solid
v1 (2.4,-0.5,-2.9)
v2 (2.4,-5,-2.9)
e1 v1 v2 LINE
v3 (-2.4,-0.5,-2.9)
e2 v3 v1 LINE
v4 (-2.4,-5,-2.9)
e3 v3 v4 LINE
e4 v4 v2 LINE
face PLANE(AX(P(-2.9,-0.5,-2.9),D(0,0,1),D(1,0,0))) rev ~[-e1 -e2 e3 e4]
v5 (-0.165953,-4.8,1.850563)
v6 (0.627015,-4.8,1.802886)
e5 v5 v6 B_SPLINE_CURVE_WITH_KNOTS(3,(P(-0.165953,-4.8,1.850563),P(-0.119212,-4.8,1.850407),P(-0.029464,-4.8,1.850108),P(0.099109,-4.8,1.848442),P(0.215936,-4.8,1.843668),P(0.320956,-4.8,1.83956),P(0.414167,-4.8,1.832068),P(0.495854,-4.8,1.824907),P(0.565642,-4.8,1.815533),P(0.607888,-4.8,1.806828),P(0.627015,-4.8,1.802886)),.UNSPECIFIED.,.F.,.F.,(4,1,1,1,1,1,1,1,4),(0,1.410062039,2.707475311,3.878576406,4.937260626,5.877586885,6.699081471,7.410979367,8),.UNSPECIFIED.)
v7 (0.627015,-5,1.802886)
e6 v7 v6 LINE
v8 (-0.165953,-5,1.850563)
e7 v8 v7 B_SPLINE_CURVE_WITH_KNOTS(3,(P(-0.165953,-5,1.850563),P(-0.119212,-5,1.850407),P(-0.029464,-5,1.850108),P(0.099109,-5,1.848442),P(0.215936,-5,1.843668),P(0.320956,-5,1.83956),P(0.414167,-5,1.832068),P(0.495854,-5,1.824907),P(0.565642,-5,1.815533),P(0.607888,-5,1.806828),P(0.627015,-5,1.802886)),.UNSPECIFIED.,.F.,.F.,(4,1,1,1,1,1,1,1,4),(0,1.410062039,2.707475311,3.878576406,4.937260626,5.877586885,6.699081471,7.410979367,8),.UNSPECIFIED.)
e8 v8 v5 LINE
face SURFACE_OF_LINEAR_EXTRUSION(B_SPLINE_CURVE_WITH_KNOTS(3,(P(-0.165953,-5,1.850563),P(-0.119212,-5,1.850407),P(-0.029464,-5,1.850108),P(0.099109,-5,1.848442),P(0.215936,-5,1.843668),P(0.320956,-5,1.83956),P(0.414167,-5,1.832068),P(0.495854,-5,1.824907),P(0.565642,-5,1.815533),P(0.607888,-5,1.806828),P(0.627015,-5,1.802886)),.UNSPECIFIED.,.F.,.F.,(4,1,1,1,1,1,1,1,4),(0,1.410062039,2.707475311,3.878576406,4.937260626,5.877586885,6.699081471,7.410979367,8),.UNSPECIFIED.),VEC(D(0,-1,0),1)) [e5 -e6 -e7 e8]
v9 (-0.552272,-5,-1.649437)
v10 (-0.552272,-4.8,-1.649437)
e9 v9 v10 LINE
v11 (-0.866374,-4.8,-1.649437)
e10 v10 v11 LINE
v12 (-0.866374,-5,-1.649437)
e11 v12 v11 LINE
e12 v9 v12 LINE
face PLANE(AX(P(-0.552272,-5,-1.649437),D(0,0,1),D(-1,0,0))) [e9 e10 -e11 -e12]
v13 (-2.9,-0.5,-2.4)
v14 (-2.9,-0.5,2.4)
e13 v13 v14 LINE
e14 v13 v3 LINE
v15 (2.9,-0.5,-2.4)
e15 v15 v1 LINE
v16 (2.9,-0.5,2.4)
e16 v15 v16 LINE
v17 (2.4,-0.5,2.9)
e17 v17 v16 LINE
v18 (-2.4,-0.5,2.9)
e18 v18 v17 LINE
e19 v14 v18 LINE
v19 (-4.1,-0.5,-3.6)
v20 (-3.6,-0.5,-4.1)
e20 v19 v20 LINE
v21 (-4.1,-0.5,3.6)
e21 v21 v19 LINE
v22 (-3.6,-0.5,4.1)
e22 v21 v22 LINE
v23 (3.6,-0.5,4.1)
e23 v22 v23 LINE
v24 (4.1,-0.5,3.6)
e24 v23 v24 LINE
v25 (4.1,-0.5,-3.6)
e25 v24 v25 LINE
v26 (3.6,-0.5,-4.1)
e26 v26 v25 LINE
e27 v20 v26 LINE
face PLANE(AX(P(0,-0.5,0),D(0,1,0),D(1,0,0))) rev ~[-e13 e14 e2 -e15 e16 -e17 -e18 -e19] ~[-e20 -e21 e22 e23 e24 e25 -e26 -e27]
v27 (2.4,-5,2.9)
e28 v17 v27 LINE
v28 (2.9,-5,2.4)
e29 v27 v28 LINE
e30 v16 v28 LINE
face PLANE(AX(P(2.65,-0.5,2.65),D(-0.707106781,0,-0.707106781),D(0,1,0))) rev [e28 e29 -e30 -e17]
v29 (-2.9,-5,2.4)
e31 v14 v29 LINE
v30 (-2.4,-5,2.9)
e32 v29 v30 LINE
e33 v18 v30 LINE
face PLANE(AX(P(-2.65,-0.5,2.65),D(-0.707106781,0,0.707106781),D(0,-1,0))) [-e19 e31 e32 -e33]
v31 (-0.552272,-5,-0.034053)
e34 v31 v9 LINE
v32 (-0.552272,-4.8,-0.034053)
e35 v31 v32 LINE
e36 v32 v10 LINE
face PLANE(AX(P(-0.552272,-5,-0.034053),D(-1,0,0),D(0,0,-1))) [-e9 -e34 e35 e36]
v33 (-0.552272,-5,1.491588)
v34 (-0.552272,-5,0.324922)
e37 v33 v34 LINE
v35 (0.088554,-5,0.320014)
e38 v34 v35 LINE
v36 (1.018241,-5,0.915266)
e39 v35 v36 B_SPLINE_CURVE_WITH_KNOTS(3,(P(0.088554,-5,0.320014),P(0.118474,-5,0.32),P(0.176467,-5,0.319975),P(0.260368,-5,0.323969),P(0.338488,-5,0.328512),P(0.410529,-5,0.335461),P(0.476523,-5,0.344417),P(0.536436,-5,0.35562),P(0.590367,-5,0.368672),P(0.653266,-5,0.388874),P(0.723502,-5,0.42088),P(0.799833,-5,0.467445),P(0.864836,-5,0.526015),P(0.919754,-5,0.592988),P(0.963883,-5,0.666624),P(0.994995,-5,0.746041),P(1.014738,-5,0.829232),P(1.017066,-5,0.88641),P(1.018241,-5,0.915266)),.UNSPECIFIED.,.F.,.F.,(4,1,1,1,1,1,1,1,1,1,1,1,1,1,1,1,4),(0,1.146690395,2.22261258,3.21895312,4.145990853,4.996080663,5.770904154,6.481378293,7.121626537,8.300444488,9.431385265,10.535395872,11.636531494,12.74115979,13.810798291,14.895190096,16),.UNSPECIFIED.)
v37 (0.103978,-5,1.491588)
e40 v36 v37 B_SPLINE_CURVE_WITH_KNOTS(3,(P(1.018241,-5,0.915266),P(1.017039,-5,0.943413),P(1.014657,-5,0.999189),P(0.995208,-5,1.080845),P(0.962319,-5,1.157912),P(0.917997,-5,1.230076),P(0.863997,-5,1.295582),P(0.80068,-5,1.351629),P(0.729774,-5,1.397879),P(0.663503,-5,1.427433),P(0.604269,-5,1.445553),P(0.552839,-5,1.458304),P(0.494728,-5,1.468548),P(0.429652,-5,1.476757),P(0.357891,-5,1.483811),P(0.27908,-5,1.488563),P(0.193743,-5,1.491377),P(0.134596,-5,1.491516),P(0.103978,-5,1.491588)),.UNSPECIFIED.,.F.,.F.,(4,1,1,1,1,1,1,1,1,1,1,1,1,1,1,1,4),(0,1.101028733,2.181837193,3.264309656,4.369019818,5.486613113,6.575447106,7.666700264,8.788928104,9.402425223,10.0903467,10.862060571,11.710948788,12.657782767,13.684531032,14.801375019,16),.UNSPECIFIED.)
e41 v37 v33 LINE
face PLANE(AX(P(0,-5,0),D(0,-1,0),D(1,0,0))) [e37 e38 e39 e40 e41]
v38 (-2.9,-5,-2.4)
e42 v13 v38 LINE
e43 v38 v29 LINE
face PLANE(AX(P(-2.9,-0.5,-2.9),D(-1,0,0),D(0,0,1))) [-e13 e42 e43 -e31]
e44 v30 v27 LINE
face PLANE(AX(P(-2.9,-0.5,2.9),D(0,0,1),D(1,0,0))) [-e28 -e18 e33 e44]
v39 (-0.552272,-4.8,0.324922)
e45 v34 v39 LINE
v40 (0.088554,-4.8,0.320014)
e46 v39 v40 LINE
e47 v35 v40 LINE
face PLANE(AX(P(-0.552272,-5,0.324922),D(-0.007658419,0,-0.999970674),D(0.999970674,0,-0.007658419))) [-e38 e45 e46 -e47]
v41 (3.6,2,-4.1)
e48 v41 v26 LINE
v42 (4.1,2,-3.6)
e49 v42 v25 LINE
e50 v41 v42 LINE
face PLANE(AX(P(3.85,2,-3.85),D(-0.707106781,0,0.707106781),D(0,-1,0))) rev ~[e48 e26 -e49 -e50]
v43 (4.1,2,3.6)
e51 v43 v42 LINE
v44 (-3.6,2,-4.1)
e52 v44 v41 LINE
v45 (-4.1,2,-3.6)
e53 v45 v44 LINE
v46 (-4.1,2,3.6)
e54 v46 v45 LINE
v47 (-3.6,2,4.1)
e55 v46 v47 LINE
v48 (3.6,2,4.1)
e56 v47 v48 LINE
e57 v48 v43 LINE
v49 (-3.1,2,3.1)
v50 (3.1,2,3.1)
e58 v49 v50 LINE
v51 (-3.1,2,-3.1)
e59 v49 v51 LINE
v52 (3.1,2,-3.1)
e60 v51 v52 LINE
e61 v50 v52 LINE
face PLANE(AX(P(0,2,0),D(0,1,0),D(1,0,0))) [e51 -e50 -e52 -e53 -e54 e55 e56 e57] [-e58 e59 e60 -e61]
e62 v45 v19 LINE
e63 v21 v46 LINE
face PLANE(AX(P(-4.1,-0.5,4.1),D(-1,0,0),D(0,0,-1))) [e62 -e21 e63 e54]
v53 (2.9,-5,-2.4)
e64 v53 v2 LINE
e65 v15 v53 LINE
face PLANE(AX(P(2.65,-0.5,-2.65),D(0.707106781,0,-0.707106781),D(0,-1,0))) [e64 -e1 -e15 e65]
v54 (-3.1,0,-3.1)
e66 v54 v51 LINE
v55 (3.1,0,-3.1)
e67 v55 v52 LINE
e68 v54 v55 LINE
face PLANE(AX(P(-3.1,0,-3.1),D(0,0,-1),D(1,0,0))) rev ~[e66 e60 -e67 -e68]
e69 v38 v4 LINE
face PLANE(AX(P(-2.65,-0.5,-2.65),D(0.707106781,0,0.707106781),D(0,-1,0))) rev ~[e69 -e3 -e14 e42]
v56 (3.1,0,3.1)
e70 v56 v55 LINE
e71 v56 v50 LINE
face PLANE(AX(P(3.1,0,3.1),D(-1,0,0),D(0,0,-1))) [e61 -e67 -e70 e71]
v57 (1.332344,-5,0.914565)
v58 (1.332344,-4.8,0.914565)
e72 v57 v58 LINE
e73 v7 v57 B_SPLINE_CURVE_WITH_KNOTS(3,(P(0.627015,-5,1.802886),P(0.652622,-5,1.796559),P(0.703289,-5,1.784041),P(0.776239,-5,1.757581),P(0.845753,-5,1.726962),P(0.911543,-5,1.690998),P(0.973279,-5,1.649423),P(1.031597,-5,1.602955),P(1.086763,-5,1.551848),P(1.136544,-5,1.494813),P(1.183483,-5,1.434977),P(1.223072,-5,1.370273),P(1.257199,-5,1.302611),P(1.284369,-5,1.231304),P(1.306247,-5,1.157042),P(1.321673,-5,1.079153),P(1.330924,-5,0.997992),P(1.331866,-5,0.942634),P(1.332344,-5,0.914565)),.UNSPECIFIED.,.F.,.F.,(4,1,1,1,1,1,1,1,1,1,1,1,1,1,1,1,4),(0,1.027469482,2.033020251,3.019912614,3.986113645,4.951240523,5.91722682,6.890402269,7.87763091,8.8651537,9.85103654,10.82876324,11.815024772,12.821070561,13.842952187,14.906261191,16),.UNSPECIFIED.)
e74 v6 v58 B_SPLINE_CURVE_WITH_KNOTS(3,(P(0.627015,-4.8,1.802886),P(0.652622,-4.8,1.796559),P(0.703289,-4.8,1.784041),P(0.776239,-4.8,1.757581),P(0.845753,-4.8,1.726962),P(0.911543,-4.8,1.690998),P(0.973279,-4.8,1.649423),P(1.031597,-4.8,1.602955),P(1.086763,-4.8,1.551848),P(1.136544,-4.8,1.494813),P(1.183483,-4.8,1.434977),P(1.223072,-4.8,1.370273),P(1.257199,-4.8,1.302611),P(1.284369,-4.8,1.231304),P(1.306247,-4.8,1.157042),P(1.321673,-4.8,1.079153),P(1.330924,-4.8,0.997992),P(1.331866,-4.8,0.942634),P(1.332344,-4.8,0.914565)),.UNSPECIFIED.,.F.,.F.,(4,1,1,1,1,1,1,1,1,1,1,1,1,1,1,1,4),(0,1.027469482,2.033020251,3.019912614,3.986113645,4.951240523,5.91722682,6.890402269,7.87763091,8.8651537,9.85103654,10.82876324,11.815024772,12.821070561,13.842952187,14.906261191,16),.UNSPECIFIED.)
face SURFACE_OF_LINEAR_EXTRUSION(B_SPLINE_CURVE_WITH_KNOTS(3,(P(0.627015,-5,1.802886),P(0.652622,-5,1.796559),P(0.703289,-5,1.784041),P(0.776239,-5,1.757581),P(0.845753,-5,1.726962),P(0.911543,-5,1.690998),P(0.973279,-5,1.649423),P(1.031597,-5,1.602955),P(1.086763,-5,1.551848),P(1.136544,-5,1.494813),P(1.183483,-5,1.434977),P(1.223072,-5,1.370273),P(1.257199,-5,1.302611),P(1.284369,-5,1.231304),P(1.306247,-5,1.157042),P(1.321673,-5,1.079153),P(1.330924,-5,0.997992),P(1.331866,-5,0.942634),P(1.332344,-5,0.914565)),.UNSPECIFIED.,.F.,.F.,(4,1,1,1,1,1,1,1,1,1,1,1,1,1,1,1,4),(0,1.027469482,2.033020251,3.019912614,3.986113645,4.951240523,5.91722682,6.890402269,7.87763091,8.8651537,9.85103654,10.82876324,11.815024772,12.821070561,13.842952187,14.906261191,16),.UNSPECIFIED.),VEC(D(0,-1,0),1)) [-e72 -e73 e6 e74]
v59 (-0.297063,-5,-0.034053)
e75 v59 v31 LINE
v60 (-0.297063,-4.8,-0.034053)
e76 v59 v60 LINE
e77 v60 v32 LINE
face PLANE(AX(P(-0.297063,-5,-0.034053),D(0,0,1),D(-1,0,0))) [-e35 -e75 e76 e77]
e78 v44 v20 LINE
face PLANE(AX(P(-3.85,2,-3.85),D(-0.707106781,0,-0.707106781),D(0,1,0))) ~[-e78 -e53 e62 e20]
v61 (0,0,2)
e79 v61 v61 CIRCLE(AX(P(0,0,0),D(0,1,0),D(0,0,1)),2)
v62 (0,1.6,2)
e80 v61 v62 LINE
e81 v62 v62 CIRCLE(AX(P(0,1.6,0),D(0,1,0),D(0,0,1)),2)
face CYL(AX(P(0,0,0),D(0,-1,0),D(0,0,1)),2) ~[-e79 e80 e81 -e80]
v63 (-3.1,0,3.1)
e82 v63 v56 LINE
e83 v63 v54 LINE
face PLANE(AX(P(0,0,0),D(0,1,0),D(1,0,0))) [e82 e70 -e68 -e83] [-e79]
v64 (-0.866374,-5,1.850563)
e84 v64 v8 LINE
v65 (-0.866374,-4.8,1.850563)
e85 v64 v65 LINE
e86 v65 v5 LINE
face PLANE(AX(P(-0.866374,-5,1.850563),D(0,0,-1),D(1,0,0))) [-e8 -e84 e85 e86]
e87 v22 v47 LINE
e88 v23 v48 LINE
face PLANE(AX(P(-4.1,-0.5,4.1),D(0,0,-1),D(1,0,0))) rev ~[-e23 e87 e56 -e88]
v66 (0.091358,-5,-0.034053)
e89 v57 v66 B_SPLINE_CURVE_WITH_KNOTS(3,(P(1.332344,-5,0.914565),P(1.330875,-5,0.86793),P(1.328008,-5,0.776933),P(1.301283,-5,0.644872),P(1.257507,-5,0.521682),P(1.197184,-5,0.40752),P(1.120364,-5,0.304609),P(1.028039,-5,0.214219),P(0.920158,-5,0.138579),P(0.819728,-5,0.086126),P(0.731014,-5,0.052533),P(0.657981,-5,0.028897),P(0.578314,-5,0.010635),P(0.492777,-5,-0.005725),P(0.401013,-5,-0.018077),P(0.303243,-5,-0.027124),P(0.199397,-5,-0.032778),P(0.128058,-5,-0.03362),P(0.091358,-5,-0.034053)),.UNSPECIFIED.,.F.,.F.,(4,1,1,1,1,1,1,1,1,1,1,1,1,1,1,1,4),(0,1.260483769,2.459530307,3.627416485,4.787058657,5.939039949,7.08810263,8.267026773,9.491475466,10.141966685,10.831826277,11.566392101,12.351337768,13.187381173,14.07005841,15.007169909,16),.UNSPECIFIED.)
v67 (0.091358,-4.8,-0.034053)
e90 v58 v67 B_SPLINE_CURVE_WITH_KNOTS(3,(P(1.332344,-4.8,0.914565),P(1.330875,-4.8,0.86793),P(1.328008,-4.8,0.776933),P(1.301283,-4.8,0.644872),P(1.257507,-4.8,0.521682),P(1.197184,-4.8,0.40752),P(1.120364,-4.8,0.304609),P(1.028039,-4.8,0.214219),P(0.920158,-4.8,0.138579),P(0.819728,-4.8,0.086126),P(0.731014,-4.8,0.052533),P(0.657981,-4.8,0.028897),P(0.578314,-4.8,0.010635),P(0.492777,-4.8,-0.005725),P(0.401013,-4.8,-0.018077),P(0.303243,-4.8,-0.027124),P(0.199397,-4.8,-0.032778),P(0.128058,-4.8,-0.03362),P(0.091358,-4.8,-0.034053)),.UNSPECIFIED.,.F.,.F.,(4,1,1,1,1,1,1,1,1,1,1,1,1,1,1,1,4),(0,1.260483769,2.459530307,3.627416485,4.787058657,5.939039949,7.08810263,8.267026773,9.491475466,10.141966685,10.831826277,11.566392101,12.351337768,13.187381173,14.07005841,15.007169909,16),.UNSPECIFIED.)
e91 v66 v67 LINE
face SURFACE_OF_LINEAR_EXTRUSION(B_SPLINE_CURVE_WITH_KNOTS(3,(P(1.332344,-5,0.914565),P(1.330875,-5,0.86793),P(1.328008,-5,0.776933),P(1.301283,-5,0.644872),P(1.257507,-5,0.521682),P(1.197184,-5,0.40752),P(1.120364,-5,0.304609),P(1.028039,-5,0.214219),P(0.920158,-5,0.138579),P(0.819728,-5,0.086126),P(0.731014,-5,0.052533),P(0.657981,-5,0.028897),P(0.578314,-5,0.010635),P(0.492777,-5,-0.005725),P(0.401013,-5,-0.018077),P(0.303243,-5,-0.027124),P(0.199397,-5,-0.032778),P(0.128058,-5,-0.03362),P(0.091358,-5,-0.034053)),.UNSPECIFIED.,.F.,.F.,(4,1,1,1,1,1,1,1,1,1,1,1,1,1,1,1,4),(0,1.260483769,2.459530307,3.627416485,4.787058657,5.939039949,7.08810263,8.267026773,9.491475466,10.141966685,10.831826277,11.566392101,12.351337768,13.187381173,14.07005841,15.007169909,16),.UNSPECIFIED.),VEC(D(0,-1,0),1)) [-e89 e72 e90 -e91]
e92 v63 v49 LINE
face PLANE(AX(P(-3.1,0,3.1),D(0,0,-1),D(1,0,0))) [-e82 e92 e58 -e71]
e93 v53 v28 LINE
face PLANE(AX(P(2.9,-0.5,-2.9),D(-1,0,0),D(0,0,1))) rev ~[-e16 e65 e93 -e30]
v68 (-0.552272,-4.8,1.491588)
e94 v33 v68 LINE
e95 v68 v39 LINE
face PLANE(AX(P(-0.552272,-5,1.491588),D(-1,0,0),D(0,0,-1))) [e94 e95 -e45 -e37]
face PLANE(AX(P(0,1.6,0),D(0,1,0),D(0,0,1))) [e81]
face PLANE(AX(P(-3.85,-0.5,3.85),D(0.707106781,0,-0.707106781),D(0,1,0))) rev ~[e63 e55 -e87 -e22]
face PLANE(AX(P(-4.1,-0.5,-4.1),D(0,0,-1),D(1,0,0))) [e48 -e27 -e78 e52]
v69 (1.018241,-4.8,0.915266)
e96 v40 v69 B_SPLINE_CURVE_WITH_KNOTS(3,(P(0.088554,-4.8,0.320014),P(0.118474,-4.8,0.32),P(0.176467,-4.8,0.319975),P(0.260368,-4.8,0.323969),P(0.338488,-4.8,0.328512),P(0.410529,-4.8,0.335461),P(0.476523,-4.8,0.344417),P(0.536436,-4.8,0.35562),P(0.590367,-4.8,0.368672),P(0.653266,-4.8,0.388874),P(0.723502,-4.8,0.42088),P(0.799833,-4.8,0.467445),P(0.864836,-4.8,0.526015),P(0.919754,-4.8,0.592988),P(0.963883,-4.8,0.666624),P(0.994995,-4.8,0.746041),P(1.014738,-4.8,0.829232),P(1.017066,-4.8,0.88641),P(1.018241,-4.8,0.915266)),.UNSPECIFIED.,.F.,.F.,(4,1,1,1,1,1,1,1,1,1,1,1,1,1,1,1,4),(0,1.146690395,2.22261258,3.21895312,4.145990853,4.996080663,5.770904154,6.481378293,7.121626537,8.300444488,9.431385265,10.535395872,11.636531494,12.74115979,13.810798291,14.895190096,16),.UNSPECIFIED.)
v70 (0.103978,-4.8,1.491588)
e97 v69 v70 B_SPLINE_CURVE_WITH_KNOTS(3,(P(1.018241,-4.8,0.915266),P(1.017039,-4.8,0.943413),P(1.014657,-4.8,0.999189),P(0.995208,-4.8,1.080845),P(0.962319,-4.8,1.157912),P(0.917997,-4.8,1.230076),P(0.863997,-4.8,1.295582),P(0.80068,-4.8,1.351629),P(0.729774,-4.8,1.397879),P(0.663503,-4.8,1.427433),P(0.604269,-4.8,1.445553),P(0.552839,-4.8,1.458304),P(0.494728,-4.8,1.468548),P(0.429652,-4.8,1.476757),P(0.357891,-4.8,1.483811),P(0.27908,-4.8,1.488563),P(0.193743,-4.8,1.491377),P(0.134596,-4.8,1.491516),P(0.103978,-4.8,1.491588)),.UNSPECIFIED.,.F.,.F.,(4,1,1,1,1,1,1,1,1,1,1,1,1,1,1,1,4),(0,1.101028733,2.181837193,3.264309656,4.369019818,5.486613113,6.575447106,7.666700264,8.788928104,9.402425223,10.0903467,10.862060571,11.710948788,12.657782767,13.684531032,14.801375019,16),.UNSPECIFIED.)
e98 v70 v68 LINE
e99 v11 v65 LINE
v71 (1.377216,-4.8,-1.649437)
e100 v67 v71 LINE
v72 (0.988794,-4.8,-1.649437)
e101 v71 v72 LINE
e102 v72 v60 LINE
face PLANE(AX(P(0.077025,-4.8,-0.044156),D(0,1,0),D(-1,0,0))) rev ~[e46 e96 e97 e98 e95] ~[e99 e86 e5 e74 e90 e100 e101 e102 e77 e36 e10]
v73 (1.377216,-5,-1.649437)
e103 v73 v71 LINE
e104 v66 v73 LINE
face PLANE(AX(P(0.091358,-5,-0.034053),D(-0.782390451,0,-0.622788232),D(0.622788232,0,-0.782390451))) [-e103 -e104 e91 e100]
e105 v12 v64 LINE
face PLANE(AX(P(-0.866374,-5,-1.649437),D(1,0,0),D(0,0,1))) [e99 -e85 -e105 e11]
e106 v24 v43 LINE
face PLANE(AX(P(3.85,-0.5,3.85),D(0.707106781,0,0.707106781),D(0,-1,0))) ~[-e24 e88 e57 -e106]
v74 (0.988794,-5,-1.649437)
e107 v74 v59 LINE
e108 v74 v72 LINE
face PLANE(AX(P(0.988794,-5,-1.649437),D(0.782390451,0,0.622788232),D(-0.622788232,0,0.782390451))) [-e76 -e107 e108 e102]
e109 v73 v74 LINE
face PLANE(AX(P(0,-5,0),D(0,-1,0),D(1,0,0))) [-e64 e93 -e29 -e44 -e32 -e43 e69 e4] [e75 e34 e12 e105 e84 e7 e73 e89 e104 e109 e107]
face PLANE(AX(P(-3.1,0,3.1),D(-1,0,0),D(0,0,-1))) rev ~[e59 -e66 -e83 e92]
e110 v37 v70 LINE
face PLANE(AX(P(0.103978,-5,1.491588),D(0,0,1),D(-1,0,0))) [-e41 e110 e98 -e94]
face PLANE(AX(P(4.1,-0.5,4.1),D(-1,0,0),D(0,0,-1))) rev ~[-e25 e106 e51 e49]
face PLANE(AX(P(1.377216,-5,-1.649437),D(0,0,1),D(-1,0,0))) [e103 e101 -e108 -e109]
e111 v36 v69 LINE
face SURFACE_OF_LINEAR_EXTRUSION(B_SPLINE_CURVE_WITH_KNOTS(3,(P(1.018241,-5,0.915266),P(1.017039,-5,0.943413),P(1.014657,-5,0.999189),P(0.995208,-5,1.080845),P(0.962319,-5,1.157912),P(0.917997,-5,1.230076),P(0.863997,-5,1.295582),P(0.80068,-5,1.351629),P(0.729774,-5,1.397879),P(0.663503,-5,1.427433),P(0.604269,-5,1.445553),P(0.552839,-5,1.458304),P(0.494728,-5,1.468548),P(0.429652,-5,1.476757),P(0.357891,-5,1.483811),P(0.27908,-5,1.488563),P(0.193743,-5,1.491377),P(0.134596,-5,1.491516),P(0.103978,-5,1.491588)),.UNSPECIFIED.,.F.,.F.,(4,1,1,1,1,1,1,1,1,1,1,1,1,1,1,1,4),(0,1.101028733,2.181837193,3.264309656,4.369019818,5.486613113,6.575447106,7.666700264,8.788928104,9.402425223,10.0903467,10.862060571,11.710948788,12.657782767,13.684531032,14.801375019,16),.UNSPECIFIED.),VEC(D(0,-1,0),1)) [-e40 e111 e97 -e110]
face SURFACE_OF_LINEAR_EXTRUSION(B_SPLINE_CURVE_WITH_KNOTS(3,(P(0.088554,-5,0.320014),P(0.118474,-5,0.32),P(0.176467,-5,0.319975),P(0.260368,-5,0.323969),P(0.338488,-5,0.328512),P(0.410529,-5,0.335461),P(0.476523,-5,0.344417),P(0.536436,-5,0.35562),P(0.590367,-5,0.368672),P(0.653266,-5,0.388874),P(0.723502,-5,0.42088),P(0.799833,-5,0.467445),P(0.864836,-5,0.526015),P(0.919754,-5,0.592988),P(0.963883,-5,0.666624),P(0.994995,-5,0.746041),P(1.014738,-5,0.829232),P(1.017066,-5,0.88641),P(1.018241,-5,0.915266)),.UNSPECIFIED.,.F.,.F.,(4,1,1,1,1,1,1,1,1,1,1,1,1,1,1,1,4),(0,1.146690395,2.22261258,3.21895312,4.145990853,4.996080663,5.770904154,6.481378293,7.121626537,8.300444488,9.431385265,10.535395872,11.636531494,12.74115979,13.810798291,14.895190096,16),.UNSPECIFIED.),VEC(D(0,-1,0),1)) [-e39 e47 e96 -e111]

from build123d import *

# Parameters (mm, degrees)
SKETCH1_R           = 2
BOSS_EXTRUDE1_DEPTH = 1.6
SKETCH1_3_W         = 8.2
SKETCH1_3_H         = 8.2
SKETCH1_3_W_2       = 6.2
SKETCH1_3_H_2       = 6.2
BOSS_EXTRUDE2_DEPTH = 2
SKETCH1_4_W         = 8.2
SKETCH1_4_H         = 8.2
BOSS_EXTRUDE3_DEPTH = 0.5
SKETCH3_W           = 5.8
SKETCH3_H           = 5.8
BOSS_EXTRUDE4_DEPTH = 4.5
CHAMFER1_SIZE       = 0.5
CUT_EXTRUDE1_DEPTH  = 0.2


with BuildPart() as part:
    # Sketch1 → Boss-Extrude1 (new body)
    with BuildSketch(Plane(origin=(0, 0, 0), x_dir=(1, 0, 0), z_dir=(0, 1, 0))):
        Circle(SKETCH1_R)
    extrude(amount=BOSS_EXTRUDE1_DEPTH)



with BuildPart() as body_2:
    # Sketch1<3> → Boss-Extrude2 (new body)
    with BuildSketch(Plane(origin=(0, 0, 0), x_dir=(1, 0, 0), z_dir=(0, 1, 0))):
        Rectangle(SKETCH1_3_W, SKETCH1_3_H)
        Rectangle(SKETCH1_3_W_2, SKETCH1_3_H_2, mode=Mode.SUBTRACT)
    extrude(amount=BOSS_EXTRUDE2_DEPTH)


with BuildPart() as part_1:
    add(part.part)

    add(body_2.part)  # Boss-Extrude3 merges body 2
    # Sketch1<4> → Boss-Extrude3 (add)
    with BuildSketch(Plane(origin=(0, 0, 0), x_dir=(1, 0, 0), z_dir=(0, 1, 0))):
        Rectangle(SKETCH1_4_W, SKETCH1_4_H)
    extrude(amount=-BOSS_EXTRUDE3_DEPTH)

    # Sketch3 → Boss-Extrude4 (add)
    with BuildSketch(Plane.XZ.offset(0.5)):
        Rectangle(SKETCH3_W, SKETCH3_H)
    extrude(amount=BOSS_EXTRUDE4_DEPTH)

    # Chamfer1
    chamfer1_edges = [part_1.edges().sort_by_distance(p)[0] for p in [
        (-4.1, 0.75, -4.1),
        (4.1, 0.75, -4.1),
        (-4.1, 0.75, 4.1),
        (4.1, 0.75, 4.1),
        (-2.9, -2.75, 2.9),
        (2.9, -2.75, 2.9),
        (-2.9, -2.75, -2.9),
        (2.9, -2.75, -2.9),
    ]]
    chamfer(chamfer1_edges, length=CHAMFER1_SIZE)

    # Sketch4 → Cut-Extrude1 (cut)
    with BuildSketch(Plane.XZ.offset(5)):
        with BuildLine():
            Line((-0.866374082, 1.850562538), (-0.165953409, 1.850562538))
            add(Edge.make_bspline(
                [(-0.165953409, 1.850562538), (-0.11921228, 1.850406952), (-0.029464136, 1.85010821), (0.099109135, 1.848442447), (0.215936232, 1.843668091), (0.320956071, 1.839559508), (0.414166726, 1.832067567), (0.495854017, 1.824906919), (0.565641714, 1.815533259), (0.607887566, 1.806827836), (0.627015341, 1.802886256)],
                knots=[0, 0, 0, 0, 1.410062039, 2.707475311, 3.878576406, 4.937260626, 5.877586885, 6.699081471, 7.410979367, 8, 8, 8, 8], degree=3))
            add(Edge.make_bspline(
                [(0.627015341, 1.802886256), (0.652621966, 1.796559491), (0.703288955, 1.784040927), (0.776239021, 1.757581326), (0.845753345, 1.726961702), (0.911543169, 1.690997981), (0.973278961, 1.649423202), (1.031597271, 1.602955079), (1.086762735, 1.551847874), (1.136544365, 1.494813032), (1.183483417, 1.434976522), (1.223072043, 1.370272766), (1.257198523, 1.302611238), (1.28436904, 1.23130382), (1.306247013, 1.157042048), (1.321673253, 1.079153252), (1.33092444, 0.997992277), (1.331866296, 0.942634368), (1.332343867, 0.914564942)],
                knots=[0, 0, 0, 0, 1.027469482, 2.033020251, 3.019912614, 3.986113645, 4.951240523, 5.91722682, 6.890402269, 7.87763091, 8.8651537, 9.85103654, 10.82876324, 11.815024772, 12.821070561, 13.842952187, 14.906261191, 16, 16, 16, 16], degree=3))
            add(Edge.make_bspline(
                [(1.332343867, 0.914564942), (1.330874869, 0.867929837), (1.328008473, 0.77693267), (1.30128337, 0.644871788), (1.25750685, 0.521682474), (1.197183561, 0.407519836), (1.120364085, 0.30460919), (1.028039294, 0.214218735), (0.920157682, 0.138578822), (0.819728367, 0.086126018), (0.731014167, 0.052533109), (0.657980854, 0.02889675), (0.578313877, 0.010634785), (0.492776542, -0.005725347), (0.401012886, -0.018077041), (0.303242847, -0.027123636), (0.199396695, -0.032777684), (0.128057626, -0.033619689), (0.09135829, -0.034052846)],
                knots=[0, 0, 0, 0, 1.260483769, 2.459530307, 3.627416485, 4.787058657, 5.939039949, 7.08810263, 8.267026773, 9.491475466, 10.141966685, 10.831826277, 11.566392101, 12.351337768, 13.187381173, 14.07005841, 15.007169909, 16, 16, 16, 16], degree=3))
            Line((0.09135829, -0.034052846), (1.377215662, -1.649437462))
            Line((1.377215662, -1.649437462), (0.988794188, -1.649437462))
            Line((0.988794188, -1.649437462), (-0.297063184, -0.034052846))
            Line((-0.297063184, -0.034052846), (-0.552271517, -0.034052846))
            Line((-0.552271517, -0.034052846), (-0.552271517, -1.649437462))
            Line((-0.552271517, -1.649437462), (-0.866374082, -1.649437462))
            Line((-0.866374082, -1.649437462), (-0.866374082, 1.850562538))
        make_face()
        with BuildLine():
            Line((-0.552271517, 1.491588179), (-0.552271517, 0.324921513))
            Line((-0.552271517, 0.324921513), (0.088553803, 0.32001366))
            add(Edge.make_bspline(
                [(0.088553803, 0.32001366), (0.118473842, 0.320000423), (0.176467399, 0.319974767), (0.260368064, 0.323968543), (0.338488176, 0.328511861), (0.410528928, 0.335461207), (0.476522503, 0.344417279), (0.536435916, 0.355620263), (0.590366968, 0.368672326), (0.653265507, 0.388873951), (0.723502038, 0.42087997), (0.799833498, 0.467445468), (0.864835836, 0.526014588), (0.919753698, 0.592988044), (0.963883129, 0.666624292), (0.994995184, 0.746040662), (1.014737626, 0.82923226), (1.017066171, 0.886410367), (1.018241303, 0.915266064)],
                knots=[0, 0, 0, 0, 1.146690395, 2.22261258, 3.21895312, 4.145990853, 4.996080663, 5.770904154, 6.481378293, 7.121626537, 8.300444488, 9.431385265, 10.535395872, 11.636531494, 12.74115979, 13.810798291, 14.895190096, 16, 16, 16, 16], degree=3))
            add(Edge.make_bspline(
                [(1.018241303, 0.915266064), (1.017039182, 0.943412638), (1.014657017, 0.999188876), (0.995208248, 1.080844787), (0.962318867, 1.157911737), (0.917996629, 1.230076222), (0.863997474, 1.295581958), (0.800679661, 1.351629111), (0.729774466, 1.397878575), (0.663503268, 1.427432956), (0.604269055, 1.445552809), (0.552839395, 1.458303973), (0.494727917, 1.468548442), (0.429652459, 1.476756503), (0.357890828, 1.483811447), (0.279080177, 1.488563226), (0.193743397, 1.49137709), (0.134596465, 1.491516179), (0.103978483, 1.491588179)],
                knots=[0, 0, 0, 0, 1.101028733, 2.181837193, 3.264309656, 4.369019818, 5.486613113, 6.575447106, 7.666700264, 8.788928104, 9.402425223, 10.0903467, 10.862060571, 11.710948788, 12.657782767, 13.684531032, 14.801375019, 16, 16, 16, 16], degree=3))
            Line((0.103978483, 1.491588179), (-0.552271517, 1.491588179))
        make_face(mode=Mode.SUBTRACT)
    extrude(amount=-CUT_EXTRUDE1_DEPTH, mode=Mode.SUBTRACT)


solid = part_1.part
